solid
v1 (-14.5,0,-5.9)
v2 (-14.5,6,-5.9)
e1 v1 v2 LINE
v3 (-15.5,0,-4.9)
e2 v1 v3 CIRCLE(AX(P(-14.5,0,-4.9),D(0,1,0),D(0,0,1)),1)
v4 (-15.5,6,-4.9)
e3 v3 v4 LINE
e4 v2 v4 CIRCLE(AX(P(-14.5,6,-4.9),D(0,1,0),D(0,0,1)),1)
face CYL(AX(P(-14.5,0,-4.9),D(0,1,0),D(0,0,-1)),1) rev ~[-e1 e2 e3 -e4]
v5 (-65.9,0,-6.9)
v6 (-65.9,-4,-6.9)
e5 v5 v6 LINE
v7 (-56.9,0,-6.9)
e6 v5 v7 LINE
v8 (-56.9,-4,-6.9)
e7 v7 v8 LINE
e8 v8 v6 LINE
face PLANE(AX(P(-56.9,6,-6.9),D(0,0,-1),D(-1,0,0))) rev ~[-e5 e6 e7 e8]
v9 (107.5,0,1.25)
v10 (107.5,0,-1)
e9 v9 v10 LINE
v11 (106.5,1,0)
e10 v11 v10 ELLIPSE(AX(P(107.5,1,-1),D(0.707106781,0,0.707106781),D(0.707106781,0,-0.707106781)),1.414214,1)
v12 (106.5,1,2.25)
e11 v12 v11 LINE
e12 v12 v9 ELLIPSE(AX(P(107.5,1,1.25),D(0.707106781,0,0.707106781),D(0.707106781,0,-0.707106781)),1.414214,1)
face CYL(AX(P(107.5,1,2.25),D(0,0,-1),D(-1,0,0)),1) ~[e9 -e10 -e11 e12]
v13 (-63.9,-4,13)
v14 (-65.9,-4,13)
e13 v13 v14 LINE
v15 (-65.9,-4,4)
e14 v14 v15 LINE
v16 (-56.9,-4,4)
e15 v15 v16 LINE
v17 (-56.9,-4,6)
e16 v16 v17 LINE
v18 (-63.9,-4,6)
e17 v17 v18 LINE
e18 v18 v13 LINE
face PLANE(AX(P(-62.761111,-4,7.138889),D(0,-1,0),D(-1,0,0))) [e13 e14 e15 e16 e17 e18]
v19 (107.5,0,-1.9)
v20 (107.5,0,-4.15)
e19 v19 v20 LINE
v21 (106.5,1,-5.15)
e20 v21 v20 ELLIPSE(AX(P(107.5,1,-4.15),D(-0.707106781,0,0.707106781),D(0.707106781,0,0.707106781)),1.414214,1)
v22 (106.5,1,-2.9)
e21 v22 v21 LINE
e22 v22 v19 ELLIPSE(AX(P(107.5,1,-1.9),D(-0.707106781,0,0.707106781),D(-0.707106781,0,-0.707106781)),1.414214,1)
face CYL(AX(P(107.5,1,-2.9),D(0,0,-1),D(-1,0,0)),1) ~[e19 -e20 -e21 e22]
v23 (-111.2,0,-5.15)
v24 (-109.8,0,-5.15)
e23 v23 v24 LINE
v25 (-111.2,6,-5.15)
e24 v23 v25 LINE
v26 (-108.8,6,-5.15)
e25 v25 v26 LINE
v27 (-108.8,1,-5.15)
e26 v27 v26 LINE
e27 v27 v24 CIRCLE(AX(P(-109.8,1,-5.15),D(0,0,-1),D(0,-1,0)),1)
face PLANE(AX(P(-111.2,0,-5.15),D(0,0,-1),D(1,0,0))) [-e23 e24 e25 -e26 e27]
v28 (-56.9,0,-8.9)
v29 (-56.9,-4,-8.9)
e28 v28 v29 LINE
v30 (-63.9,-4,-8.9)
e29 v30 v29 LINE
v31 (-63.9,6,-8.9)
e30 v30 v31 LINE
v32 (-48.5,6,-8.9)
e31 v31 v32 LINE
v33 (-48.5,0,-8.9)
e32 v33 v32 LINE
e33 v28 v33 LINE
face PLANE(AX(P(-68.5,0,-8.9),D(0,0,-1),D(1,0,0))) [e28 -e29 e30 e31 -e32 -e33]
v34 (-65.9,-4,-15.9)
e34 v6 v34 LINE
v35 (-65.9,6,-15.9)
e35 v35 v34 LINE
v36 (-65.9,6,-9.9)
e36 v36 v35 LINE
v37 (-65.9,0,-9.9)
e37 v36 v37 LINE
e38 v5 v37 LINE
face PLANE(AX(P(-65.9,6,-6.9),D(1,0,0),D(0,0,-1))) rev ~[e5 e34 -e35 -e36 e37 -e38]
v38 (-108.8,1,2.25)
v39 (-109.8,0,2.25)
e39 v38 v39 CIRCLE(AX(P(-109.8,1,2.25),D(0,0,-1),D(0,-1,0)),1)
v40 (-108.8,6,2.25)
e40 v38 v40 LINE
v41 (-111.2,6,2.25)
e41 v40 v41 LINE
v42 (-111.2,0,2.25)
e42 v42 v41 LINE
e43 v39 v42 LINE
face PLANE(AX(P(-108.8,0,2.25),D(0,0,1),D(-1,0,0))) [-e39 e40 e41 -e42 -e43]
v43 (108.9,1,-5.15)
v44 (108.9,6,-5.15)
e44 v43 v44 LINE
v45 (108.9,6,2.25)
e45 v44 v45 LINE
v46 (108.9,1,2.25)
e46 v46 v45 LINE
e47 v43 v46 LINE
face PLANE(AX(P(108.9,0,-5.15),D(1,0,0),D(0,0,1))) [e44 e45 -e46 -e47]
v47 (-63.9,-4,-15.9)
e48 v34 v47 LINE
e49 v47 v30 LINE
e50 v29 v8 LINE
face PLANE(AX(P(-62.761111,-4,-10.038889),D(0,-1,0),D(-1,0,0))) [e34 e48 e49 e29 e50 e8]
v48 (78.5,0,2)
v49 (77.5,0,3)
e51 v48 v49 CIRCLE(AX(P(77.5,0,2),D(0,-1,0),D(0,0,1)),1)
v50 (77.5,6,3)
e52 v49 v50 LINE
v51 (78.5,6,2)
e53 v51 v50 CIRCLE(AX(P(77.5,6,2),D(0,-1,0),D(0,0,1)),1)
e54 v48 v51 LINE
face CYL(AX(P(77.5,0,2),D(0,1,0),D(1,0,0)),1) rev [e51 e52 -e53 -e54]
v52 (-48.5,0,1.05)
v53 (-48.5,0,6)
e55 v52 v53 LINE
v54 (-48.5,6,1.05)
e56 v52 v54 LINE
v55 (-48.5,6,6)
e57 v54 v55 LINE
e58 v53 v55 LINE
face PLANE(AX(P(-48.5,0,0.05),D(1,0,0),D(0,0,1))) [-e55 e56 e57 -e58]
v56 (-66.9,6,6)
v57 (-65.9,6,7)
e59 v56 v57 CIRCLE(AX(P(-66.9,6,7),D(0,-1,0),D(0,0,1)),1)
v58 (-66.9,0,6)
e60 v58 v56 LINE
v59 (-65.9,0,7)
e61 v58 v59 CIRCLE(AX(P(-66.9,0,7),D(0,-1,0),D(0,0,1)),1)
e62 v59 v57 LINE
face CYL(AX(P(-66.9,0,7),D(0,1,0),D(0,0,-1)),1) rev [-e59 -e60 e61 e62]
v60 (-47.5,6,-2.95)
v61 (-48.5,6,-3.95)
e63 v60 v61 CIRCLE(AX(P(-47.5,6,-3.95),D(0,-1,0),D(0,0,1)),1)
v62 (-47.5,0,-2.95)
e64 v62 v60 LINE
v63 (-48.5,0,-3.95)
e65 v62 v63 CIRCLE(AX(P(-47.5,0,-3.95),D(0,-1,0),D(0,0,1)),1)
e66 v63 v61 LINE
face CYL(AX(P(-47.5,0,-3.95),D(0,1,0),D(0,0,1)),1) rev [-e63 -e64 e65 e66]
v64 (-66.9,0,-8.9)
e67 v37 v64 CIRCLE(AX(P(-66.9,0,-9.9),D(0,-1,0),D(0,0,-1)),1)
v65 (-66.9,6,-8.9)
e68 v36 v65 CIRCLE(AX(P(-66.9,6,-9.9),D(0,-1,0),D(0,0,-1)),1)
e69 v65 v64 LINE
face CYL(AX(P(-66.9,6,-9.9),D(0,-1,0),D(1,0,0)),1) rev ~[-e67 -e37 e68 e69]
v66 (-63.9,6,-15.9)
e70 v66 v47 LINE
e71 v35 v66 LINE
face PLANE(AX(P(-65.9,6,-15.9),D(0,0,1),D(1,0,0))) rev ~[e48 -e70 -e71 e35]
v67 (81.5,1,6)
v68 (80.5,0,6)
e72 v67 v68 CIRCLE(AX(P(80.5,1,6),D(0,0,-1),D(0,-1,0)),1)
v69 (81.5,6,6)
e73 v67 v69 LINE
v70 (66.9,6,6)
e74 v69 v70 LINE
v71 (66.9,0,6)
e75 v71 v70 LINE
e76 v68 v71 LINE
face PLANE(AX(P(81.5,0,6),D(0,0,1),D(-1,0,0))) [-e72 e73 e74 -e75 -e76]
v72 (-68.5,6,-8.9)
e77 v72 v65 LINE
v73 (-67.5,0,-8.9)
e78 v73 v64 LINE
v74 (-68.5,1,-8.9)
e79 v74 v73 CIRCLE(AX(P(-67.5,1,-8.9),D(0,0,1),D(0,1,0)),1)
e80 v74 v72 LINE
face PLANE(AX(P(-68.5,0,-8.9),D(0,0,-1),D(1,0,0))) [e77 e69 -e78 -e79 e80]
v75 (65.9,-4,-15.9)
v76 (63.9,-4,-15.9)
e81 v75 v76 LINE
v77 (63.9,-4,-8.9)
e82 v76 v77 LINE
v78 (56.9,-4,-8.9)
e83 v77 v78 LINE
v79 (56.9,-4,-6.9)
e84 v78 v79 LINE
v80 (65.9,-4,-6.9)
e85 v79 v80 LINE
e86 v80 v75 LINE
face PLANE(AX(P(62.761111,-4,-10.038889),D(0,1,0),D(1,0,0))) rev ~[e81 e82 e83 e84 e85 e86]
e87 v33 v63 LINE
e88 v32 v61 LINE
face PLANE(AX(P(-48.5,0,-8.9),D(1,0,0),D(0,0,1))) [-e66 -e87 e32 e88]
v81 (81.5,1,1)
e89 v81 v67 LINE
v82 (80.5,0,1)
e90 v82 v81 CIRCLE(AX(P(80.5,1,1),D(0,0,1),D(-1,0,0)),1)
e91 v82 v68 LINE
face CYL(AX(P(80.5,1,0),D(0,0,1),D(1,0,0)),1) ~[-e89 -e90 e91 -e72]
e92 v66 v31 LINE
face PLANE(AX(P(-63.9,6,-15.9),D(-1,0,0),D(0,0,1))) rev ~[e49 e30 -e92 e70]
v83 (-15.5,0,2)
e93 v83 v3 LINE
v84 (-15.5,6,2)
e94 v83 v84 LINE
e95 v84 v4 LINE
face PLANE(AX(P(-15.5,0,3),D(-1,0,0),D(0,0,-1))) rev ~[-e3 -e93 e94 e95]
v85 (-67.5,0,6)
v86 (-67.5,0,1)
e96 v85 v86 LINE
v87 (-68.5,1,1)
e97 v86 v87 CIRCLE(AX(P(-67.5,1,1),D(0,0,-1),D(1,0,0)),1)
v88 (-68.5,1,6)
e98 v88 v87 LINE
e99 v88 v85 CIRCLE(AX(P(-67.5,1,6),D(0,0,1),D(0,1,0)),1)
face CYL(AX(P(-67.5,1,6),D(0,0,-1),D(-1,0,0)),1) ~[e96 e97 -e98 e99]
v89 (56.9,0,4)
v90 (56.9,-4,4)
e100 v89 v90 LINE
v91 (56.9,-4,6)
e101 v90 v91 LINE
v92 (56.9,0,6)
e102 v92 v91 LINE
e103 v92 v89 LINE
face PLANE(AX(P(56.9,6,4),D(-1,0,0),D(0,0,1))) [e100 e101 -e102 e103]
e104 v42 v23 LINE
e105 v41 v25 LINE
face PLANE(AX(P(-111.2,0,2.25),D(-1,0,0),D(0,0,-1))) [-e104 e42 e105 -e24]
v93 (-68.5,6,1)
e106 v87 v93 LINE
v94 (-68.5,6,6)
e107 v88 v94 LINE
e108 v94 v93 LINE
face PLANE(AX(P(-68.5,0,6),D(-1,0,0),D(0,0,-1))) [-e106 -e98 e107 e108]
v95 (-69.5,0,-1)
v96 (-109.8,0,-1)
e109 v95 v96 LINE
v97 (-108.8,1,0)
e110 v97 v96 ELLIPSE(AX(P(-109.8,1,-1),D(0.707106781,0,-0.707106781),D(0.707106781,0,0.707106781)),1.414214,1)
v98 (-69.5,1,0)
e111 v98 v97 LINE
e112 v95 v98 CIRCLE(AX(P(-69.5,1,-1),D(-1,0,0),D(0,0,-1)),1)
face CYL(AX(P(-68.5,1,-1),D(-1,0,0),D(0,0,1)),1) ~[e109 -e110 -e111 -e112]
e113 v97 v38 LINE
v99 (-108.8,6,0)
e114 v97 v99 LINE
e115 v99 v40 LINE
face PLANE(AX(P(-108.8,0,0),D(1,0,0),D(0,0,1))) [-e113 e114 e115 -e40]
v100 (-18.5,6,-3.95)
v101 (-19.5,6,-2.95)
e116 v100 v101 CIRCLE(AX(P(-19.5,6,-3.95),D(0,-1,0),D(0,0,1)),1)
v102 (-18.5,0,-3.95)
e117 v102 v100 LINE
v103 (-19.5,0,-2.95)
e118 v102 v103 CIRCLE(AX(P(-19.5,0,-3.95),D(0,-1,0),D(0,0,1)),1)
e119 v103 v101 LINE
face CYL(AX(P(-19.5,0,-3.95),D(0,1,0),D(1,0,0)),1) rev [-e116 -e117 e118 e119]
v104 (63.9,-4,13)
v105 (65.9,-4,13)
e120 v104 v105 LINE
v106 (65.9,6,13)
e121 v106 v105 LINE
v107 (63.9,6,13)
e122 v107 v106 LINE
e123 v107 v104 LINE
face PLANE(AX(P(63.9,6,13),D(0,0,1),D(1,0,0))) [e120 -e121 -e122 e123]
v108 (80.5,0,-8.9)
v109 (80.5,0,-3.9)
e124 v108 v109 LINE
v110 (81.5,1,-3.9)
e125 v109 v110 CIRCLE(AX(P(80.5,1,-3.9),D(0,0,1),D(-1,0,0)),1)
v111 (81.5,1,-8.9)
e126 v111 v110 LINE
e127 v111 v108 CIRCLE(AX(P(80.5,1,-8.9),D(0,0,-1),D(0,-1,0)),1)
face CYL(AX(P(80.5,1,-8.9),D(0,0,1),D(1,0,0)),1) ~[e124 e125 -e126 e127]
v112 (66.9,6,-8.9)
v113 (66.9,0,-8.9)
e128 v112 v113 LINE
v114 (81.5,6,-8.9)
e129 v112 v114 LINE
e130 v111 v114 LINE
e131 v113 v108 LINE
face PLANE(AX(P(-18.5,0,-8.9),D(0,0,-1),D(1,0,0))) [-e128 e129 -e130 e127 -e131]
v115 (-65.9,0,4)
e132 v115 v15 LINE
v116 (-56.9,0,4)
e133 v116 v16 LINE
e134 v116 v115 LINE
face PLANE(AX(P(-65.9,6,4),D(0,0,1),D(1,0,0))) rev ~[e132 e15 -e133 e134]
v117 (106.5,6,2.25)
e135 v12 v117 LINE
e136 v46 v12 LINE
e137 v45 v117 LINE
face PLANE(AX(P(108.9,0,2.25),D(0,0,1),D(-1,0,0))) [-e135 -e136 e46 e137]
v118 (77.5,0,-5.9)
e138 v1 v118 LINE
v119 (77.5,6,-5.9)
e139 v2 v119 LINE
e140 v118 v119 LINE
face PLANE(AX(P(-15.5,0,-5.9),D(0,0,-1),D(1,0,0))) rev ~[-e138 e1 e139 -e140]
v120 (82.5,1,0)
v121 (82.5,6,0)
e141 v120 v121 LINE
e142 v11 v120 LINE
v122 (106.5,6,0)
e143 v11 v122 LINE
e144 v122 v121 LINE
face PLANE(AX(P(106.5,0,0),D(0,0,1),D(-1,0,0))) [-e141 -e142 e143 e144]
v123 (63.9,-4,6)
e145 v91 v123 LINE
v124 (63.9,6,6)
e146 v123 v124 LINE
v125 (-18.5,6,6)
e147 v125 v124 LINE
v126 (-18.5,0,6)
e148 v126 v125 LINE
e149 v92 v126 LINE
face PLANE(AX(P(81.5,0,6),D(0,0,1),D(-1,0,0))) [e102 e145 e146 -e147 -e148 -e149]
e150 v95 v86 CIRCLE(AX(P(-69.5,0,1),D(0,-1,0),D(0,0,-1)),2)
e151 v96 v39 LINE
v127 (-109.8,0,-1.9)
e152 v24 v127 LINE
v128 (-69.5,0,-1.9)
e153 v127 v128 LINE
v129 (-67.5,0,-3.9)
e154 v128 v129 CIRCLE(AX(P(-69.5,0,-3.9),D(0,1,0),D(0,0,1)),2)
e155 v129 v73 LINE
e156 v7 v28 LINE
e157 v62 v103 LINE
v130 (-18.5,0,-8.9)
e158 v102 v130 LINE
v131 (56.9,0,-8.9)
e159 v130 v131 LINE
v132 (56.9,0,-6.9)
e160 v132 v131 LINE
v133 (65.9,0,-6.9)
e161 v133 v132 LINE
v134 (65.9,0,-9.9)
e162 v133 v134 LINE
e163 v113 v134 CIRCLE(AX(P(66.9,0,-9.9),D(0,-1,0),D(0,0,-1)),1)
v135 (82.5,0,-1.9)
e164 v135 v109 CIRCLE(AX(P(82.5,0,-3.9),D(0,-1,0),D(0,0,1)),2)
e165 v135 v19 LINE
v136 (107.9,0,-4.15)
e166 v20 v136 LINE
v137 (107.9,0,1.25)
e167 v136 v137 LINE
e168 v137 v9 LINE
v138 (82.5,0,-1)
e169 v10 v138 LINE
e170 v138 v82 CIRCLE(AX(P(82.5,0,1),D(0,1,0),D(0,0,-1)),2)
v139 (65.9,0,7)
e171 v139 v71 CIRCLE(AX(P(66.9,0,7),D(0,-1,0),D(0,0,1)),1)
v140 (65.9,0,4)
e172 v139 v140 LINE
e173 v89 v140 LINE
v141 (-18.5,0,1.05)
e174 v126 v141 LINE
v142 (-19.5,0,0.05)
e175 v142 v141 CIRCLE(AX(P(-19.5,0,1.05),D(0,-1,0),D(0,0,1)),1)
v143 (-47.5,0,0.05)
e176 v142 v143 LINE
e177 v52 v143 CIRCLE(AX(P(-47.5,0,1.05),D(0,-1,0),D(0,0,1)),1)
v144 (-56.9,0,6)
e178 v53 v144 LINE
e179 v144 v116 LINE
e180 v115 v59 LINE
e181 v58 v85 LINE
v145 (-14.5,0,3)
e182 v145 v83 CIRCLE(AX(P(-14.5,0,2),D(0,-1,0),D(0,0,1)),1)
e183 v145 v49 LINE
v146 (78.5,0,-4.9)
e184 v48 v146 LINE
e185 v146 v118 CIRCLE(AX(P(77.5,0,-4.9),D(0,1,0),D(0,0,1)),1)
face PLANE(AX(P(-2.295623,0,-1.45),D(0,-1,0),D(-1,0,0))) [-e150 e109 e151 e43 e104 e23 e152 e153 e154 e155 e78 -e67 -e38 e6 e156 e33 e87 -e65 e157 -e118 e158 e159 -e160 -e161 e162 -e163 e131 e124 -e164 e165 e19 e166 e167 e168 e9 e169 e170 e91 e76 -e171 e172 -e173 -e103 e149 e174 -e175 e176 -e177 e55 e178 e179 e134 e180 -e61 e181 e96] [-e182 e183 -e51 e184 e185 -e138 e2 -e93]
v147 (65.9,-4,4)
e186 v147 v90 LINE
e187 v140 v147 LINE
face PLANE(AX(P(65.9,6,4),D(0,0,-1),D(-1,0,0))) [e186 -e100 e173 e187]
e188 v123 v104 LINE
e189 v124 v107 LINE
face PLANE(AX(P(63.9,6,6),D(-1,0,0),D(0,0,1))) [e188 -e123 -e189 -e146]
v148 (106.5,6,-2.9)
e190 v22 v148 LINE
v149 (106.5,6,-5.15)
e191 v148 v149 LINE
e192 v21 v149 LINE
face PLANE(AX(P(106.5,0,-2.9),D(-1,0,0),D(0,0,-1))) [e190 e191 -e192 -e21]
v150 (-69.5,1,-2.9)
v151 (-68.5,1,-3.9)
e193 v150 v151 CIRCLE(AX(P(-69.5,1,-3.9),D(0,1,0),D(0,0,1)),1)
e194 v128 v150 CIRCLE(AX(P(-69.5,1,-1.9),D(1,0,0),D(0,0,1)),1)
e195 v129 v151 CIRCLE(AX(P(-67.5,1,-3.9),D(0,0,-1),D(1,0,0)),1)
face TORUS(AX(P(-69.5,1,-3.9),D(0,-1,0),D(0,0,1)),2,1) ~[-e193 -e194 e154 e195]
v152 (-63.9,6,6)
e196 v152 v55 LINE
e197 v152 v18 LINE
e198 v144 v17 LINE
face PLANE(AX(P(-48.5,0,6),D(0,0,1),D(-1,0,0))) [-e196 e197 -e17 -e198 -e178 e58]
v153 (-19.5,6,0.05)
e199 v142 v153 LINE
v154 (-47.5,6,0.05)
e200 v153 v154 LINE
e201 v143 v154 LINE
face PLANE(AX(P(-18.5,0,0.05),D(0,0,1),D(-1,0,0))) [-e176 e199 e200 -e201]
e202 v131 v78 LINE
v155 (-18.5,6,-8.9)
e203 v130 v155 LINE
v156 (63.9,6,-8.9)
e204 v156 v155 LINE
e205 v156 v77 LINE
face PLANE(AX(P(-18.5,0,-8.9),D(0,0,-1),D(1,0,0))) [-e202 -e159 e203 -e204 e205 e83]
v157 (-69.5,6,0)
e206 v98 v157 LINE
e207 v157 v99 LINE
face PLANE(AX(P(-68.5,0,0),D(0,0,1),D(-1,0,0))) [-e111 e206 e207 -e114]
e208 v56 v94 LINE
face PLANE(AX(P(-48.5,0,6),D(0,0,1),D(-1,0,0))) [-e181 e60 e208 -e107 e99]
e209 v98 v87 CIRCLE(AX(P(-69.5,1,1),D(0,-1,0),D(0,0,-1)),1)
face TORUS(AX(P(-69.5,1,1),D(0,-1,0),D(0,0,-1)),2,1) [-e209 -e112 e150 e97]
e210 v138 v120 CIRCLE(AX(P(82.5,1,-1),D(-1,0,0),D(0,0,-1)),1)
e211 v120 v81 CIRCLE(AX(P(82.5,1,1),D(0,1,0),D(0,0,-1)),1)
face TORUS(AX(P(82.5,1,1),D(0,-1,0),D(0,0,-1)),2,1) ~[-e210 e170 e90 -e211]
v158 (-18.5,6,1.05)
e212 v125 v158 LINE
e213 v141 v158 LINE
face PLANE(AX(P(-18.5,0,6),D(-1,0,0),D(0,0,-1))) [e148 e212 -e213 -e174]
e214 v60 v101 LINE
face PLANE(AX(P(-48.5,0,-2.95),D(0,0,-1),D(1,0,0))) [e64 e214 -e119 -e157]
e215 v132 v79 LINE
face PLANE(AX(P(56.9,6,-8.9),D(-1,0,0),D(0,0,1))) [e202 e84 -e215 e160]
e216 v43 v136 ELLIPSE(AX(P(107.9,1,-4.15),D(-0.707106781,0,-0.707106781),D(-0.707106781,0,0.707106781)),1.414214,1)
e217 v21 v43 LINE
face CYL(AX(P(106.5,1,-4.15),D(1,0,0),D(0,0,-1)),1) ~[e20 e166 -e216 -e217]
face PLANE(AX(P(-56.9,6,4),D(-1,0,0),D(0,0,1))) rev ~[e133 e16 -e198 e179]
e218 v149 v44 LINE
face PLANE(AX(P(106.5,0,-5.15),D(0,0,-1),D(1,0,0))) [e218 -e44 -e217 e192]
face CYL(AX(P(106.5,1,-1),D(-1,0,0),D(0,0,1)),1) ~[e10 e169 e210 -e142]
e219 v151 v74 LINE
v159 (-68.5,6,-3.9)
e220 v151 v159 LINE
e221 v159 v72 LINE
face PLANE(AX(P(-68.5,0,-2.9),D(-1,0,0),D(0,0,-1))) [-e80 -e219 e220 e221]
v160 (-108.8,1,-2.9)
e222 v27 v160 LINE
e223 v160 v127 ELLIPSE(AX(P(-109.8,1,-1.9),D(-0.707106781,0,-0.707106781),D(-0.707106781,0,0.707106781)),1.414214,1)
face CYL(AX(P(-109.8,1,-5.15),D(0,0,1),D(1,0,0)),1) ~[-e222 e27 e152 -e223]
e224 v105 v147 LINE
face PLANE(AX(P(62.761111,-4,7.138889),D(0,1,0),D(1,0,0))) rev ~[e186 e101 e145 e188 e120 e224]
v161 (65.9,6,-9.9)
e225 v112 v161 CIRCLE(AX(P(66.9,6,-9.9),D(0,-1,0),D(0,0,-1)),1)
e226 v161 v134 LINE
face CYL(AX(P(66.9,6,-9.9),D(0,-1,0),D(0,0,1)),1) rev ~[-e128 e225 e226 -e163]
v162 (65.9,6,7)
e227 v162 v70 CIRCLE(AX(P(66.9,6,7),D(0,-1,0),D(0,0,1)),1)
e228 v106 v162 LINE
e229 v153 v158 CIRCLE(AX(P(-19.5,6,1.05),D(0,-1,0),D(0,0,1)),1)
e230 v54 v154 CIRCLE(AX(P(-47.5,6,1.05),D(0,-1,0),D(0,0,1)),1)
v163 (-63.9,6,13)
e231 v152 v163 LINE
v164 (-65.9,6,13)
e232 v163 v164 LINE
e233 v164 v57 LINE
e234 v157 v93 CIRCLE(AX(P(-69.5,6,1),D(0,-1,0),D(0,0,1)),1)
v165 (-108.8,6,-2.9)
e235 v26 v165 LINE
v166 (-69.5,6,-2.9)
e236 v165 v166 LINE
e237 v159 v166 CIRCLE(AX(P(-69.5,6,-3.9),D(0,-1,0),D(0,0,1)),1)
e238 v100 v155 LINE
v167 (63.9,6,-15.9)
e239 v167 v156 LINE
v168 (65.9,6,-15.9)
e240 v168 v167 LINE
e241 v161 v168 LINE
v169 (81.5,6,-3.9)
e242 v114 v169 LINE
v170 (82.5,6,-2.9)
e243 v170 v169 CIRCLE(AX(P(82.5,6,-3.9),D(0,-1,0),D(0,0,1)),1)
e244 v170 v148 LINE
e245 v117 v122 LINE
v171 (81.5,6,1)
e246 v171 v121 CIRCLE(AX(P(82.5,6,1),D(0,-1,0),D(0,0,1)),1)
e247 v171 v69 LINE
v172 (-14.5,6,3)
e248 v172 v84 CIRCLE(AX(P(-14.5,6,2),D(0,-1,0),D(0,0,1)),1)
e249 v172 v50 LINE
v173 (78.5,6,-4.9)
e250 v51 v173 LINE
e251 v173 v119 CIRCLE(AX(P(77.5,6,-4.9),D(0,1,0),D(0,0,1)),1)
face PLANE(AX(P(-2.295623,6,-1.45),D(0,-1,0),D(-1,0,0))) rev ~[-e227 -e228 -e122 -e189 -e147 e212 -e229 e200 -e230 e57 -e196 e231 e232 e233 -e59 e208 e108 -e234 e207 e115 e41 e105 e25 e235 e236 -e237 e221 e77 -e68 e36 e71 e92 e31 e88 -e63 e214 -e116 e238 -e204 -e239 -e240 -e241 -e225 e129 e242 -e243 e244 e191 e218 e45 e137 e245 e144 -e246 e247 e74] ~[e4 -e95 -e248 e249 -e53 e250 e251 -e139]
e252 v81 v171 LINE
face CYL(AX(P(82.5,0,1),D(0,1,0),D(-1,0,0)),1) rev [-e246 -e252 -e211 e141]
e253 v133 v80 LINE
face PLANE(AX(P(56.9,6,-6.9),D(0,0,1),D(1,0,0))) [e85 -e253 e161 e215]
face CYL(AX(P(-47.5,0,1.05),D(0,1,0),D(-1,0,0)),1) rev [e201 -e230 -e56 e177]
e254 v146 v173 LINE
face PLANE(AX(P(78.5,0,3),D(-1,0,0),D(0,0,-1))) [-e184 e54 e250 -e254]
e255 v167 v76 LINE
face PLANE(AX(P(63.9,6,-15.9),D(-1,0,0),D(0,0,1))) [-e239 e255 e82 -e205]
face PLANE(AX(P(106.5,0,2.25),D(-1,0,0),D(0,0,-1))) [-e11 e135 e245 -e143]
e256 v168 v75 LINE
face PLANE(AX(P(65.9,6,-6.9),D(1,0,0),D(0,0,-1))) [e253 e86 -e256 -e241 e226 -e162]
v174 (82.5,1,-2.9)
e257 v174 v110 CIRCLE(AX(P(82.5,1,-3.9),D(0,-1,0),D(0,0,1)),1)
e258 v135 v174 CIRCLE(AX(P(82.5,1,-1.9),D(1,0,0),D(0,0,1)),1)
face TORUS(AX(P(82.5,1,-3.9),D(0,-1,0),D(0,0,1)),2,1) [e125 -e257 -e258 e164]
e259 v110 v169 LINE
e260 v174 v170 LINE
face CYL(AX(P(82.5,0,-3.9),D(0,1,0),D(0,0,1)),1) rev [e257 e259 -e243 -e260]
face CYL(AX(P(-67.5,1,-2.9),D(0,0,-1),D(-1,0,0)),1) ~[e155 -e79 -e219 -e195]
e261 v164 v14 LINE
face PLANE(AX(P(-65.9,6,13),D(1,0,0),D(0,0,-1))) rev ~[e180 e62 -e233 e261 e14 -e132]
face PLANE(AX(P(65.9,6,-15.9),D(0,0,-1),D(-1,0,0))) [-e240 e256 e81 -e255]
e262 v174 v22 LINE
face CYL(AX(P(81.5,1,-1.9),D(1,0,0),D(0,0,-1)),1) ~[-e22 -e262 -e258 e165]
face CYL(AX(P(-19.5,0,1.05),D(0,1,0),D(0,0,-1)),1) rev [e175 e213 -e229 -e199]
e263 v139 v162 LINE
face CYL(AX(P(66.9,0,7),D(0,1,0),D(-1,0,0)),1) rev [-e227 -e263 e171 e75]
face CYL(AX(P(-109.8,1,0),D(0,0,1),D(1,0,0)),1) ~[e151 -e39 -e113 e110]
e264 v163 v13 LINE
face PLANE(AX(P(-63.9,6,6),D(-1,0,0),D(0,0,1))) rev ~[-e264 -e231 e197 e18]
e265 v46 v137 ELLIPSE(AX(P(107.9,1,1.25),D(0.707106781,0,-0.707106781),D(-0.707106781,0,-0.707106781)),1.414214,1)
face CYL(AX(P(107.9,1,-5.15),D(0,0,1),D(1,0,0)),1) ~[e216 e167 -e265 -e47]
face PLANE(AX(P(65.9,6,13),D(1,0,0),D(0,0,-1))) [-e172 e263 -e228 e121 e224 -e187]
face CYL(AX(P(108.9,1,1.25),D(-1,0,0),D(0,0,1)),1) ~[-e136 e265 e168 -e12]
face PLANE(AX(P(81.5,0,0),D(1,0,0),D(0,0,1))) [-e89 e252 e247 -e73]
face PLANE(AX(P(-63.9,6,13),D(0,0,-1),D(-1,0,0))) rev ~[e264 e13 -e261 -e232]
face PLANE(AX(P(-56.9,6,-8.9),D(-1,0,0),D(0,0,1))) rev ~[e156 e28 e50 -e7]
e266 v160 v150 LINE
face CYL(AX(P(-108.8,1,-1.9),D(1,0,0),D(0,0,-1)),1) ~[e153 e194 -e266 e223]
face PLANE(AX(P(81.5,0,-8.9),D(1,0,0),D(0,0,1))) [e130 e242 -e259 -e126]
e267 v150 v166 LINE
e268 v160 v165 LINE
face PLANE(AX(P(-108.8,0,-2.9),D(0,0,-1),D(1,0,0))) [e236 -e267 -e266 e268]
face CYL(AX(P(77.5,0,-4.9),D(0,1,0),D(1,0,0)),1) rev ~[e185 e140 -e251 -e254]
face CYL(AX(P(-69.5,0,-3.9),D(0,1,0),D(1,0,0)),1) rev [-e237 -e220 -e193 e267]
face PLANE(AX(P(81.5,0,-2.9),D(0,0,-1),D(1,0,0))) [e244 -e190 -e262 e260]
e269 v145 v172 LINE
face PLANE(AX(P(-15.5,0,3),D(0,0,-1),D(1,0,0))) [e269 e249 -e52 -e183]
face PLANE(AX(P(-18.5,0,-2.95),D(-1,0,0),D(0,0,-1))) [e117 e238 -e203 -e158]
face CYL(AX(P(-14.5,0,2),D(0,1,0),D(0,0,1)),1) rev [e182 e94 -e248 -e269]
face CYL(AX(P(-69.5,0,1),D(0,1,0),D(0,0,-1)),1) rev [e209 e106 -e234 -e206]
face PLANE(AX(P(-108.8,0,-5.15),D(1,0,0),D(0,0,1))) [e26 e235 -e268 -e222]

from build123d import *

# Parameters (mm, degrees)
SKETCH1_W           = 94
SKETCH1_H           = 8.9
BOSS_EXTRUDE1_DEPTH = 6
BOSS_EXTRUDE2_DEPTH = 10
FILLET1_R           = 1


with BuildPart() as part:
    # Sketch1 → Boss-Extrude1 (new body)
    with BuildSketch(Plane(origin=(0, 0, 0), x_dir=(1, 0, 0), z_dir=(0, 1, 0))):
        Polygon((106.5, 2.9), (106.5, 5.15), (108.9, 5.15), (108.9, -2.25), (106.5, -2.25), (106.5, 0), (81.5, 0), (81.5, -6), (-18.5, -6), (-18.5, -0.05), (-48.5, -0.05), (-48.5, -6), (-68.5, -6), (-68.5, 0), (-108.8, 0), (-108.8, -2.25), (-111.2, -2.25), (-111.2, 5.15), (-108.8, 5.15), (-108.8, 2.9), (-68.5, 2.9), (-68.5, 8.9), (-48.5, 8.9), (-48.5, 2.95), (-18.5, 2.95), (-18.5, 8.9), (81.5, 8.9), (81.5, 2.9), align=None)
        with Locations((31.5, 1.45)):
            Rectangle(SKETCH1_W, SKETCH1_H, mode=Mode.SUBTRACT)
    extrude(amount=BOSS_EXTRUDE1_DEPTH)

    # Sketch2 → Boss-Extrude2 (add)
    with BuildSketch(Plane(origin=(0, 6, 0), x_dir=(1, 0, 0), z_dir=(0, 1, 0))):
        Polygon((-65.9, 6.9), (-65.9, 15.9), (-63.9, 15.9), (-63.9, 8.9), (-56.9, 8.9), (-56.9, 6.9), align=None)
        Polygon((-65.9, -4), (-56.9, -4), (-56.9, -6), (-63.9, -6), (-63.9, -13), (-65.9, -13), align=None)
        Polygon((65.9, -13), (65.9, -4), (56.9, -4), (56.9, -6), (63.9, -6), (63.9, -13), align=None)
        Polygon((56.9, 6.9), (65.9, 6.9), (65.9, 15.9), (63.9, 15.9), (63.9, 8.9), (56.9, 8.9), align=None)
    extrude(amount=-BOSS_EXTRUDE2_DEPTH)

    # Fillet1
    fillet1_edges = [part.edges().sort_by_distance(p)[0] for p in [
        (-68.5, 0, 3),
        (-68.5, 0, -5.9),
        (-108.8, 0, -4.025),
        (-108.8, 0, 1.125),
        (-68.5, 3, 0),
        (-68.5, 3, -2.9),
        (-88.65, 0, 0),
        (-88.65, 0, -2.9),
        (81.5, 0, -5.9),
        (81.5, 0, 3),
        (78.5, 3, -5.9),
        (78.5, 3, 3),
        (-15.5, 3, 3),
        (-15.5, 3, -5.9),
        (-18.5, 3, -2.95),
        (-18.5, 3, 0.05),
        (-48.5, 3, -2.95),
        (-48.5, 3, 0.05),
        (-65.9, 3, 6),
        (-65.9, 3, -8.9),
        (65.9, 3, -8.9),
        (65.9, 3, 6),
        (81.5, 3, -2.9),
        (81.5, 3, 0),
        (106.5, 0, 1.125),
        (107.7, 0, 2.25),
        (108.9, 0, -1.45),
        (107.7, 0, -5.15),
        (106.5, 0, -4.025),
        (94, 0, -2.9),
        (94, 0, 0),
    ]]
    fillet(fillet1_edges, radius=FILLET1_R)


solid = part.part
